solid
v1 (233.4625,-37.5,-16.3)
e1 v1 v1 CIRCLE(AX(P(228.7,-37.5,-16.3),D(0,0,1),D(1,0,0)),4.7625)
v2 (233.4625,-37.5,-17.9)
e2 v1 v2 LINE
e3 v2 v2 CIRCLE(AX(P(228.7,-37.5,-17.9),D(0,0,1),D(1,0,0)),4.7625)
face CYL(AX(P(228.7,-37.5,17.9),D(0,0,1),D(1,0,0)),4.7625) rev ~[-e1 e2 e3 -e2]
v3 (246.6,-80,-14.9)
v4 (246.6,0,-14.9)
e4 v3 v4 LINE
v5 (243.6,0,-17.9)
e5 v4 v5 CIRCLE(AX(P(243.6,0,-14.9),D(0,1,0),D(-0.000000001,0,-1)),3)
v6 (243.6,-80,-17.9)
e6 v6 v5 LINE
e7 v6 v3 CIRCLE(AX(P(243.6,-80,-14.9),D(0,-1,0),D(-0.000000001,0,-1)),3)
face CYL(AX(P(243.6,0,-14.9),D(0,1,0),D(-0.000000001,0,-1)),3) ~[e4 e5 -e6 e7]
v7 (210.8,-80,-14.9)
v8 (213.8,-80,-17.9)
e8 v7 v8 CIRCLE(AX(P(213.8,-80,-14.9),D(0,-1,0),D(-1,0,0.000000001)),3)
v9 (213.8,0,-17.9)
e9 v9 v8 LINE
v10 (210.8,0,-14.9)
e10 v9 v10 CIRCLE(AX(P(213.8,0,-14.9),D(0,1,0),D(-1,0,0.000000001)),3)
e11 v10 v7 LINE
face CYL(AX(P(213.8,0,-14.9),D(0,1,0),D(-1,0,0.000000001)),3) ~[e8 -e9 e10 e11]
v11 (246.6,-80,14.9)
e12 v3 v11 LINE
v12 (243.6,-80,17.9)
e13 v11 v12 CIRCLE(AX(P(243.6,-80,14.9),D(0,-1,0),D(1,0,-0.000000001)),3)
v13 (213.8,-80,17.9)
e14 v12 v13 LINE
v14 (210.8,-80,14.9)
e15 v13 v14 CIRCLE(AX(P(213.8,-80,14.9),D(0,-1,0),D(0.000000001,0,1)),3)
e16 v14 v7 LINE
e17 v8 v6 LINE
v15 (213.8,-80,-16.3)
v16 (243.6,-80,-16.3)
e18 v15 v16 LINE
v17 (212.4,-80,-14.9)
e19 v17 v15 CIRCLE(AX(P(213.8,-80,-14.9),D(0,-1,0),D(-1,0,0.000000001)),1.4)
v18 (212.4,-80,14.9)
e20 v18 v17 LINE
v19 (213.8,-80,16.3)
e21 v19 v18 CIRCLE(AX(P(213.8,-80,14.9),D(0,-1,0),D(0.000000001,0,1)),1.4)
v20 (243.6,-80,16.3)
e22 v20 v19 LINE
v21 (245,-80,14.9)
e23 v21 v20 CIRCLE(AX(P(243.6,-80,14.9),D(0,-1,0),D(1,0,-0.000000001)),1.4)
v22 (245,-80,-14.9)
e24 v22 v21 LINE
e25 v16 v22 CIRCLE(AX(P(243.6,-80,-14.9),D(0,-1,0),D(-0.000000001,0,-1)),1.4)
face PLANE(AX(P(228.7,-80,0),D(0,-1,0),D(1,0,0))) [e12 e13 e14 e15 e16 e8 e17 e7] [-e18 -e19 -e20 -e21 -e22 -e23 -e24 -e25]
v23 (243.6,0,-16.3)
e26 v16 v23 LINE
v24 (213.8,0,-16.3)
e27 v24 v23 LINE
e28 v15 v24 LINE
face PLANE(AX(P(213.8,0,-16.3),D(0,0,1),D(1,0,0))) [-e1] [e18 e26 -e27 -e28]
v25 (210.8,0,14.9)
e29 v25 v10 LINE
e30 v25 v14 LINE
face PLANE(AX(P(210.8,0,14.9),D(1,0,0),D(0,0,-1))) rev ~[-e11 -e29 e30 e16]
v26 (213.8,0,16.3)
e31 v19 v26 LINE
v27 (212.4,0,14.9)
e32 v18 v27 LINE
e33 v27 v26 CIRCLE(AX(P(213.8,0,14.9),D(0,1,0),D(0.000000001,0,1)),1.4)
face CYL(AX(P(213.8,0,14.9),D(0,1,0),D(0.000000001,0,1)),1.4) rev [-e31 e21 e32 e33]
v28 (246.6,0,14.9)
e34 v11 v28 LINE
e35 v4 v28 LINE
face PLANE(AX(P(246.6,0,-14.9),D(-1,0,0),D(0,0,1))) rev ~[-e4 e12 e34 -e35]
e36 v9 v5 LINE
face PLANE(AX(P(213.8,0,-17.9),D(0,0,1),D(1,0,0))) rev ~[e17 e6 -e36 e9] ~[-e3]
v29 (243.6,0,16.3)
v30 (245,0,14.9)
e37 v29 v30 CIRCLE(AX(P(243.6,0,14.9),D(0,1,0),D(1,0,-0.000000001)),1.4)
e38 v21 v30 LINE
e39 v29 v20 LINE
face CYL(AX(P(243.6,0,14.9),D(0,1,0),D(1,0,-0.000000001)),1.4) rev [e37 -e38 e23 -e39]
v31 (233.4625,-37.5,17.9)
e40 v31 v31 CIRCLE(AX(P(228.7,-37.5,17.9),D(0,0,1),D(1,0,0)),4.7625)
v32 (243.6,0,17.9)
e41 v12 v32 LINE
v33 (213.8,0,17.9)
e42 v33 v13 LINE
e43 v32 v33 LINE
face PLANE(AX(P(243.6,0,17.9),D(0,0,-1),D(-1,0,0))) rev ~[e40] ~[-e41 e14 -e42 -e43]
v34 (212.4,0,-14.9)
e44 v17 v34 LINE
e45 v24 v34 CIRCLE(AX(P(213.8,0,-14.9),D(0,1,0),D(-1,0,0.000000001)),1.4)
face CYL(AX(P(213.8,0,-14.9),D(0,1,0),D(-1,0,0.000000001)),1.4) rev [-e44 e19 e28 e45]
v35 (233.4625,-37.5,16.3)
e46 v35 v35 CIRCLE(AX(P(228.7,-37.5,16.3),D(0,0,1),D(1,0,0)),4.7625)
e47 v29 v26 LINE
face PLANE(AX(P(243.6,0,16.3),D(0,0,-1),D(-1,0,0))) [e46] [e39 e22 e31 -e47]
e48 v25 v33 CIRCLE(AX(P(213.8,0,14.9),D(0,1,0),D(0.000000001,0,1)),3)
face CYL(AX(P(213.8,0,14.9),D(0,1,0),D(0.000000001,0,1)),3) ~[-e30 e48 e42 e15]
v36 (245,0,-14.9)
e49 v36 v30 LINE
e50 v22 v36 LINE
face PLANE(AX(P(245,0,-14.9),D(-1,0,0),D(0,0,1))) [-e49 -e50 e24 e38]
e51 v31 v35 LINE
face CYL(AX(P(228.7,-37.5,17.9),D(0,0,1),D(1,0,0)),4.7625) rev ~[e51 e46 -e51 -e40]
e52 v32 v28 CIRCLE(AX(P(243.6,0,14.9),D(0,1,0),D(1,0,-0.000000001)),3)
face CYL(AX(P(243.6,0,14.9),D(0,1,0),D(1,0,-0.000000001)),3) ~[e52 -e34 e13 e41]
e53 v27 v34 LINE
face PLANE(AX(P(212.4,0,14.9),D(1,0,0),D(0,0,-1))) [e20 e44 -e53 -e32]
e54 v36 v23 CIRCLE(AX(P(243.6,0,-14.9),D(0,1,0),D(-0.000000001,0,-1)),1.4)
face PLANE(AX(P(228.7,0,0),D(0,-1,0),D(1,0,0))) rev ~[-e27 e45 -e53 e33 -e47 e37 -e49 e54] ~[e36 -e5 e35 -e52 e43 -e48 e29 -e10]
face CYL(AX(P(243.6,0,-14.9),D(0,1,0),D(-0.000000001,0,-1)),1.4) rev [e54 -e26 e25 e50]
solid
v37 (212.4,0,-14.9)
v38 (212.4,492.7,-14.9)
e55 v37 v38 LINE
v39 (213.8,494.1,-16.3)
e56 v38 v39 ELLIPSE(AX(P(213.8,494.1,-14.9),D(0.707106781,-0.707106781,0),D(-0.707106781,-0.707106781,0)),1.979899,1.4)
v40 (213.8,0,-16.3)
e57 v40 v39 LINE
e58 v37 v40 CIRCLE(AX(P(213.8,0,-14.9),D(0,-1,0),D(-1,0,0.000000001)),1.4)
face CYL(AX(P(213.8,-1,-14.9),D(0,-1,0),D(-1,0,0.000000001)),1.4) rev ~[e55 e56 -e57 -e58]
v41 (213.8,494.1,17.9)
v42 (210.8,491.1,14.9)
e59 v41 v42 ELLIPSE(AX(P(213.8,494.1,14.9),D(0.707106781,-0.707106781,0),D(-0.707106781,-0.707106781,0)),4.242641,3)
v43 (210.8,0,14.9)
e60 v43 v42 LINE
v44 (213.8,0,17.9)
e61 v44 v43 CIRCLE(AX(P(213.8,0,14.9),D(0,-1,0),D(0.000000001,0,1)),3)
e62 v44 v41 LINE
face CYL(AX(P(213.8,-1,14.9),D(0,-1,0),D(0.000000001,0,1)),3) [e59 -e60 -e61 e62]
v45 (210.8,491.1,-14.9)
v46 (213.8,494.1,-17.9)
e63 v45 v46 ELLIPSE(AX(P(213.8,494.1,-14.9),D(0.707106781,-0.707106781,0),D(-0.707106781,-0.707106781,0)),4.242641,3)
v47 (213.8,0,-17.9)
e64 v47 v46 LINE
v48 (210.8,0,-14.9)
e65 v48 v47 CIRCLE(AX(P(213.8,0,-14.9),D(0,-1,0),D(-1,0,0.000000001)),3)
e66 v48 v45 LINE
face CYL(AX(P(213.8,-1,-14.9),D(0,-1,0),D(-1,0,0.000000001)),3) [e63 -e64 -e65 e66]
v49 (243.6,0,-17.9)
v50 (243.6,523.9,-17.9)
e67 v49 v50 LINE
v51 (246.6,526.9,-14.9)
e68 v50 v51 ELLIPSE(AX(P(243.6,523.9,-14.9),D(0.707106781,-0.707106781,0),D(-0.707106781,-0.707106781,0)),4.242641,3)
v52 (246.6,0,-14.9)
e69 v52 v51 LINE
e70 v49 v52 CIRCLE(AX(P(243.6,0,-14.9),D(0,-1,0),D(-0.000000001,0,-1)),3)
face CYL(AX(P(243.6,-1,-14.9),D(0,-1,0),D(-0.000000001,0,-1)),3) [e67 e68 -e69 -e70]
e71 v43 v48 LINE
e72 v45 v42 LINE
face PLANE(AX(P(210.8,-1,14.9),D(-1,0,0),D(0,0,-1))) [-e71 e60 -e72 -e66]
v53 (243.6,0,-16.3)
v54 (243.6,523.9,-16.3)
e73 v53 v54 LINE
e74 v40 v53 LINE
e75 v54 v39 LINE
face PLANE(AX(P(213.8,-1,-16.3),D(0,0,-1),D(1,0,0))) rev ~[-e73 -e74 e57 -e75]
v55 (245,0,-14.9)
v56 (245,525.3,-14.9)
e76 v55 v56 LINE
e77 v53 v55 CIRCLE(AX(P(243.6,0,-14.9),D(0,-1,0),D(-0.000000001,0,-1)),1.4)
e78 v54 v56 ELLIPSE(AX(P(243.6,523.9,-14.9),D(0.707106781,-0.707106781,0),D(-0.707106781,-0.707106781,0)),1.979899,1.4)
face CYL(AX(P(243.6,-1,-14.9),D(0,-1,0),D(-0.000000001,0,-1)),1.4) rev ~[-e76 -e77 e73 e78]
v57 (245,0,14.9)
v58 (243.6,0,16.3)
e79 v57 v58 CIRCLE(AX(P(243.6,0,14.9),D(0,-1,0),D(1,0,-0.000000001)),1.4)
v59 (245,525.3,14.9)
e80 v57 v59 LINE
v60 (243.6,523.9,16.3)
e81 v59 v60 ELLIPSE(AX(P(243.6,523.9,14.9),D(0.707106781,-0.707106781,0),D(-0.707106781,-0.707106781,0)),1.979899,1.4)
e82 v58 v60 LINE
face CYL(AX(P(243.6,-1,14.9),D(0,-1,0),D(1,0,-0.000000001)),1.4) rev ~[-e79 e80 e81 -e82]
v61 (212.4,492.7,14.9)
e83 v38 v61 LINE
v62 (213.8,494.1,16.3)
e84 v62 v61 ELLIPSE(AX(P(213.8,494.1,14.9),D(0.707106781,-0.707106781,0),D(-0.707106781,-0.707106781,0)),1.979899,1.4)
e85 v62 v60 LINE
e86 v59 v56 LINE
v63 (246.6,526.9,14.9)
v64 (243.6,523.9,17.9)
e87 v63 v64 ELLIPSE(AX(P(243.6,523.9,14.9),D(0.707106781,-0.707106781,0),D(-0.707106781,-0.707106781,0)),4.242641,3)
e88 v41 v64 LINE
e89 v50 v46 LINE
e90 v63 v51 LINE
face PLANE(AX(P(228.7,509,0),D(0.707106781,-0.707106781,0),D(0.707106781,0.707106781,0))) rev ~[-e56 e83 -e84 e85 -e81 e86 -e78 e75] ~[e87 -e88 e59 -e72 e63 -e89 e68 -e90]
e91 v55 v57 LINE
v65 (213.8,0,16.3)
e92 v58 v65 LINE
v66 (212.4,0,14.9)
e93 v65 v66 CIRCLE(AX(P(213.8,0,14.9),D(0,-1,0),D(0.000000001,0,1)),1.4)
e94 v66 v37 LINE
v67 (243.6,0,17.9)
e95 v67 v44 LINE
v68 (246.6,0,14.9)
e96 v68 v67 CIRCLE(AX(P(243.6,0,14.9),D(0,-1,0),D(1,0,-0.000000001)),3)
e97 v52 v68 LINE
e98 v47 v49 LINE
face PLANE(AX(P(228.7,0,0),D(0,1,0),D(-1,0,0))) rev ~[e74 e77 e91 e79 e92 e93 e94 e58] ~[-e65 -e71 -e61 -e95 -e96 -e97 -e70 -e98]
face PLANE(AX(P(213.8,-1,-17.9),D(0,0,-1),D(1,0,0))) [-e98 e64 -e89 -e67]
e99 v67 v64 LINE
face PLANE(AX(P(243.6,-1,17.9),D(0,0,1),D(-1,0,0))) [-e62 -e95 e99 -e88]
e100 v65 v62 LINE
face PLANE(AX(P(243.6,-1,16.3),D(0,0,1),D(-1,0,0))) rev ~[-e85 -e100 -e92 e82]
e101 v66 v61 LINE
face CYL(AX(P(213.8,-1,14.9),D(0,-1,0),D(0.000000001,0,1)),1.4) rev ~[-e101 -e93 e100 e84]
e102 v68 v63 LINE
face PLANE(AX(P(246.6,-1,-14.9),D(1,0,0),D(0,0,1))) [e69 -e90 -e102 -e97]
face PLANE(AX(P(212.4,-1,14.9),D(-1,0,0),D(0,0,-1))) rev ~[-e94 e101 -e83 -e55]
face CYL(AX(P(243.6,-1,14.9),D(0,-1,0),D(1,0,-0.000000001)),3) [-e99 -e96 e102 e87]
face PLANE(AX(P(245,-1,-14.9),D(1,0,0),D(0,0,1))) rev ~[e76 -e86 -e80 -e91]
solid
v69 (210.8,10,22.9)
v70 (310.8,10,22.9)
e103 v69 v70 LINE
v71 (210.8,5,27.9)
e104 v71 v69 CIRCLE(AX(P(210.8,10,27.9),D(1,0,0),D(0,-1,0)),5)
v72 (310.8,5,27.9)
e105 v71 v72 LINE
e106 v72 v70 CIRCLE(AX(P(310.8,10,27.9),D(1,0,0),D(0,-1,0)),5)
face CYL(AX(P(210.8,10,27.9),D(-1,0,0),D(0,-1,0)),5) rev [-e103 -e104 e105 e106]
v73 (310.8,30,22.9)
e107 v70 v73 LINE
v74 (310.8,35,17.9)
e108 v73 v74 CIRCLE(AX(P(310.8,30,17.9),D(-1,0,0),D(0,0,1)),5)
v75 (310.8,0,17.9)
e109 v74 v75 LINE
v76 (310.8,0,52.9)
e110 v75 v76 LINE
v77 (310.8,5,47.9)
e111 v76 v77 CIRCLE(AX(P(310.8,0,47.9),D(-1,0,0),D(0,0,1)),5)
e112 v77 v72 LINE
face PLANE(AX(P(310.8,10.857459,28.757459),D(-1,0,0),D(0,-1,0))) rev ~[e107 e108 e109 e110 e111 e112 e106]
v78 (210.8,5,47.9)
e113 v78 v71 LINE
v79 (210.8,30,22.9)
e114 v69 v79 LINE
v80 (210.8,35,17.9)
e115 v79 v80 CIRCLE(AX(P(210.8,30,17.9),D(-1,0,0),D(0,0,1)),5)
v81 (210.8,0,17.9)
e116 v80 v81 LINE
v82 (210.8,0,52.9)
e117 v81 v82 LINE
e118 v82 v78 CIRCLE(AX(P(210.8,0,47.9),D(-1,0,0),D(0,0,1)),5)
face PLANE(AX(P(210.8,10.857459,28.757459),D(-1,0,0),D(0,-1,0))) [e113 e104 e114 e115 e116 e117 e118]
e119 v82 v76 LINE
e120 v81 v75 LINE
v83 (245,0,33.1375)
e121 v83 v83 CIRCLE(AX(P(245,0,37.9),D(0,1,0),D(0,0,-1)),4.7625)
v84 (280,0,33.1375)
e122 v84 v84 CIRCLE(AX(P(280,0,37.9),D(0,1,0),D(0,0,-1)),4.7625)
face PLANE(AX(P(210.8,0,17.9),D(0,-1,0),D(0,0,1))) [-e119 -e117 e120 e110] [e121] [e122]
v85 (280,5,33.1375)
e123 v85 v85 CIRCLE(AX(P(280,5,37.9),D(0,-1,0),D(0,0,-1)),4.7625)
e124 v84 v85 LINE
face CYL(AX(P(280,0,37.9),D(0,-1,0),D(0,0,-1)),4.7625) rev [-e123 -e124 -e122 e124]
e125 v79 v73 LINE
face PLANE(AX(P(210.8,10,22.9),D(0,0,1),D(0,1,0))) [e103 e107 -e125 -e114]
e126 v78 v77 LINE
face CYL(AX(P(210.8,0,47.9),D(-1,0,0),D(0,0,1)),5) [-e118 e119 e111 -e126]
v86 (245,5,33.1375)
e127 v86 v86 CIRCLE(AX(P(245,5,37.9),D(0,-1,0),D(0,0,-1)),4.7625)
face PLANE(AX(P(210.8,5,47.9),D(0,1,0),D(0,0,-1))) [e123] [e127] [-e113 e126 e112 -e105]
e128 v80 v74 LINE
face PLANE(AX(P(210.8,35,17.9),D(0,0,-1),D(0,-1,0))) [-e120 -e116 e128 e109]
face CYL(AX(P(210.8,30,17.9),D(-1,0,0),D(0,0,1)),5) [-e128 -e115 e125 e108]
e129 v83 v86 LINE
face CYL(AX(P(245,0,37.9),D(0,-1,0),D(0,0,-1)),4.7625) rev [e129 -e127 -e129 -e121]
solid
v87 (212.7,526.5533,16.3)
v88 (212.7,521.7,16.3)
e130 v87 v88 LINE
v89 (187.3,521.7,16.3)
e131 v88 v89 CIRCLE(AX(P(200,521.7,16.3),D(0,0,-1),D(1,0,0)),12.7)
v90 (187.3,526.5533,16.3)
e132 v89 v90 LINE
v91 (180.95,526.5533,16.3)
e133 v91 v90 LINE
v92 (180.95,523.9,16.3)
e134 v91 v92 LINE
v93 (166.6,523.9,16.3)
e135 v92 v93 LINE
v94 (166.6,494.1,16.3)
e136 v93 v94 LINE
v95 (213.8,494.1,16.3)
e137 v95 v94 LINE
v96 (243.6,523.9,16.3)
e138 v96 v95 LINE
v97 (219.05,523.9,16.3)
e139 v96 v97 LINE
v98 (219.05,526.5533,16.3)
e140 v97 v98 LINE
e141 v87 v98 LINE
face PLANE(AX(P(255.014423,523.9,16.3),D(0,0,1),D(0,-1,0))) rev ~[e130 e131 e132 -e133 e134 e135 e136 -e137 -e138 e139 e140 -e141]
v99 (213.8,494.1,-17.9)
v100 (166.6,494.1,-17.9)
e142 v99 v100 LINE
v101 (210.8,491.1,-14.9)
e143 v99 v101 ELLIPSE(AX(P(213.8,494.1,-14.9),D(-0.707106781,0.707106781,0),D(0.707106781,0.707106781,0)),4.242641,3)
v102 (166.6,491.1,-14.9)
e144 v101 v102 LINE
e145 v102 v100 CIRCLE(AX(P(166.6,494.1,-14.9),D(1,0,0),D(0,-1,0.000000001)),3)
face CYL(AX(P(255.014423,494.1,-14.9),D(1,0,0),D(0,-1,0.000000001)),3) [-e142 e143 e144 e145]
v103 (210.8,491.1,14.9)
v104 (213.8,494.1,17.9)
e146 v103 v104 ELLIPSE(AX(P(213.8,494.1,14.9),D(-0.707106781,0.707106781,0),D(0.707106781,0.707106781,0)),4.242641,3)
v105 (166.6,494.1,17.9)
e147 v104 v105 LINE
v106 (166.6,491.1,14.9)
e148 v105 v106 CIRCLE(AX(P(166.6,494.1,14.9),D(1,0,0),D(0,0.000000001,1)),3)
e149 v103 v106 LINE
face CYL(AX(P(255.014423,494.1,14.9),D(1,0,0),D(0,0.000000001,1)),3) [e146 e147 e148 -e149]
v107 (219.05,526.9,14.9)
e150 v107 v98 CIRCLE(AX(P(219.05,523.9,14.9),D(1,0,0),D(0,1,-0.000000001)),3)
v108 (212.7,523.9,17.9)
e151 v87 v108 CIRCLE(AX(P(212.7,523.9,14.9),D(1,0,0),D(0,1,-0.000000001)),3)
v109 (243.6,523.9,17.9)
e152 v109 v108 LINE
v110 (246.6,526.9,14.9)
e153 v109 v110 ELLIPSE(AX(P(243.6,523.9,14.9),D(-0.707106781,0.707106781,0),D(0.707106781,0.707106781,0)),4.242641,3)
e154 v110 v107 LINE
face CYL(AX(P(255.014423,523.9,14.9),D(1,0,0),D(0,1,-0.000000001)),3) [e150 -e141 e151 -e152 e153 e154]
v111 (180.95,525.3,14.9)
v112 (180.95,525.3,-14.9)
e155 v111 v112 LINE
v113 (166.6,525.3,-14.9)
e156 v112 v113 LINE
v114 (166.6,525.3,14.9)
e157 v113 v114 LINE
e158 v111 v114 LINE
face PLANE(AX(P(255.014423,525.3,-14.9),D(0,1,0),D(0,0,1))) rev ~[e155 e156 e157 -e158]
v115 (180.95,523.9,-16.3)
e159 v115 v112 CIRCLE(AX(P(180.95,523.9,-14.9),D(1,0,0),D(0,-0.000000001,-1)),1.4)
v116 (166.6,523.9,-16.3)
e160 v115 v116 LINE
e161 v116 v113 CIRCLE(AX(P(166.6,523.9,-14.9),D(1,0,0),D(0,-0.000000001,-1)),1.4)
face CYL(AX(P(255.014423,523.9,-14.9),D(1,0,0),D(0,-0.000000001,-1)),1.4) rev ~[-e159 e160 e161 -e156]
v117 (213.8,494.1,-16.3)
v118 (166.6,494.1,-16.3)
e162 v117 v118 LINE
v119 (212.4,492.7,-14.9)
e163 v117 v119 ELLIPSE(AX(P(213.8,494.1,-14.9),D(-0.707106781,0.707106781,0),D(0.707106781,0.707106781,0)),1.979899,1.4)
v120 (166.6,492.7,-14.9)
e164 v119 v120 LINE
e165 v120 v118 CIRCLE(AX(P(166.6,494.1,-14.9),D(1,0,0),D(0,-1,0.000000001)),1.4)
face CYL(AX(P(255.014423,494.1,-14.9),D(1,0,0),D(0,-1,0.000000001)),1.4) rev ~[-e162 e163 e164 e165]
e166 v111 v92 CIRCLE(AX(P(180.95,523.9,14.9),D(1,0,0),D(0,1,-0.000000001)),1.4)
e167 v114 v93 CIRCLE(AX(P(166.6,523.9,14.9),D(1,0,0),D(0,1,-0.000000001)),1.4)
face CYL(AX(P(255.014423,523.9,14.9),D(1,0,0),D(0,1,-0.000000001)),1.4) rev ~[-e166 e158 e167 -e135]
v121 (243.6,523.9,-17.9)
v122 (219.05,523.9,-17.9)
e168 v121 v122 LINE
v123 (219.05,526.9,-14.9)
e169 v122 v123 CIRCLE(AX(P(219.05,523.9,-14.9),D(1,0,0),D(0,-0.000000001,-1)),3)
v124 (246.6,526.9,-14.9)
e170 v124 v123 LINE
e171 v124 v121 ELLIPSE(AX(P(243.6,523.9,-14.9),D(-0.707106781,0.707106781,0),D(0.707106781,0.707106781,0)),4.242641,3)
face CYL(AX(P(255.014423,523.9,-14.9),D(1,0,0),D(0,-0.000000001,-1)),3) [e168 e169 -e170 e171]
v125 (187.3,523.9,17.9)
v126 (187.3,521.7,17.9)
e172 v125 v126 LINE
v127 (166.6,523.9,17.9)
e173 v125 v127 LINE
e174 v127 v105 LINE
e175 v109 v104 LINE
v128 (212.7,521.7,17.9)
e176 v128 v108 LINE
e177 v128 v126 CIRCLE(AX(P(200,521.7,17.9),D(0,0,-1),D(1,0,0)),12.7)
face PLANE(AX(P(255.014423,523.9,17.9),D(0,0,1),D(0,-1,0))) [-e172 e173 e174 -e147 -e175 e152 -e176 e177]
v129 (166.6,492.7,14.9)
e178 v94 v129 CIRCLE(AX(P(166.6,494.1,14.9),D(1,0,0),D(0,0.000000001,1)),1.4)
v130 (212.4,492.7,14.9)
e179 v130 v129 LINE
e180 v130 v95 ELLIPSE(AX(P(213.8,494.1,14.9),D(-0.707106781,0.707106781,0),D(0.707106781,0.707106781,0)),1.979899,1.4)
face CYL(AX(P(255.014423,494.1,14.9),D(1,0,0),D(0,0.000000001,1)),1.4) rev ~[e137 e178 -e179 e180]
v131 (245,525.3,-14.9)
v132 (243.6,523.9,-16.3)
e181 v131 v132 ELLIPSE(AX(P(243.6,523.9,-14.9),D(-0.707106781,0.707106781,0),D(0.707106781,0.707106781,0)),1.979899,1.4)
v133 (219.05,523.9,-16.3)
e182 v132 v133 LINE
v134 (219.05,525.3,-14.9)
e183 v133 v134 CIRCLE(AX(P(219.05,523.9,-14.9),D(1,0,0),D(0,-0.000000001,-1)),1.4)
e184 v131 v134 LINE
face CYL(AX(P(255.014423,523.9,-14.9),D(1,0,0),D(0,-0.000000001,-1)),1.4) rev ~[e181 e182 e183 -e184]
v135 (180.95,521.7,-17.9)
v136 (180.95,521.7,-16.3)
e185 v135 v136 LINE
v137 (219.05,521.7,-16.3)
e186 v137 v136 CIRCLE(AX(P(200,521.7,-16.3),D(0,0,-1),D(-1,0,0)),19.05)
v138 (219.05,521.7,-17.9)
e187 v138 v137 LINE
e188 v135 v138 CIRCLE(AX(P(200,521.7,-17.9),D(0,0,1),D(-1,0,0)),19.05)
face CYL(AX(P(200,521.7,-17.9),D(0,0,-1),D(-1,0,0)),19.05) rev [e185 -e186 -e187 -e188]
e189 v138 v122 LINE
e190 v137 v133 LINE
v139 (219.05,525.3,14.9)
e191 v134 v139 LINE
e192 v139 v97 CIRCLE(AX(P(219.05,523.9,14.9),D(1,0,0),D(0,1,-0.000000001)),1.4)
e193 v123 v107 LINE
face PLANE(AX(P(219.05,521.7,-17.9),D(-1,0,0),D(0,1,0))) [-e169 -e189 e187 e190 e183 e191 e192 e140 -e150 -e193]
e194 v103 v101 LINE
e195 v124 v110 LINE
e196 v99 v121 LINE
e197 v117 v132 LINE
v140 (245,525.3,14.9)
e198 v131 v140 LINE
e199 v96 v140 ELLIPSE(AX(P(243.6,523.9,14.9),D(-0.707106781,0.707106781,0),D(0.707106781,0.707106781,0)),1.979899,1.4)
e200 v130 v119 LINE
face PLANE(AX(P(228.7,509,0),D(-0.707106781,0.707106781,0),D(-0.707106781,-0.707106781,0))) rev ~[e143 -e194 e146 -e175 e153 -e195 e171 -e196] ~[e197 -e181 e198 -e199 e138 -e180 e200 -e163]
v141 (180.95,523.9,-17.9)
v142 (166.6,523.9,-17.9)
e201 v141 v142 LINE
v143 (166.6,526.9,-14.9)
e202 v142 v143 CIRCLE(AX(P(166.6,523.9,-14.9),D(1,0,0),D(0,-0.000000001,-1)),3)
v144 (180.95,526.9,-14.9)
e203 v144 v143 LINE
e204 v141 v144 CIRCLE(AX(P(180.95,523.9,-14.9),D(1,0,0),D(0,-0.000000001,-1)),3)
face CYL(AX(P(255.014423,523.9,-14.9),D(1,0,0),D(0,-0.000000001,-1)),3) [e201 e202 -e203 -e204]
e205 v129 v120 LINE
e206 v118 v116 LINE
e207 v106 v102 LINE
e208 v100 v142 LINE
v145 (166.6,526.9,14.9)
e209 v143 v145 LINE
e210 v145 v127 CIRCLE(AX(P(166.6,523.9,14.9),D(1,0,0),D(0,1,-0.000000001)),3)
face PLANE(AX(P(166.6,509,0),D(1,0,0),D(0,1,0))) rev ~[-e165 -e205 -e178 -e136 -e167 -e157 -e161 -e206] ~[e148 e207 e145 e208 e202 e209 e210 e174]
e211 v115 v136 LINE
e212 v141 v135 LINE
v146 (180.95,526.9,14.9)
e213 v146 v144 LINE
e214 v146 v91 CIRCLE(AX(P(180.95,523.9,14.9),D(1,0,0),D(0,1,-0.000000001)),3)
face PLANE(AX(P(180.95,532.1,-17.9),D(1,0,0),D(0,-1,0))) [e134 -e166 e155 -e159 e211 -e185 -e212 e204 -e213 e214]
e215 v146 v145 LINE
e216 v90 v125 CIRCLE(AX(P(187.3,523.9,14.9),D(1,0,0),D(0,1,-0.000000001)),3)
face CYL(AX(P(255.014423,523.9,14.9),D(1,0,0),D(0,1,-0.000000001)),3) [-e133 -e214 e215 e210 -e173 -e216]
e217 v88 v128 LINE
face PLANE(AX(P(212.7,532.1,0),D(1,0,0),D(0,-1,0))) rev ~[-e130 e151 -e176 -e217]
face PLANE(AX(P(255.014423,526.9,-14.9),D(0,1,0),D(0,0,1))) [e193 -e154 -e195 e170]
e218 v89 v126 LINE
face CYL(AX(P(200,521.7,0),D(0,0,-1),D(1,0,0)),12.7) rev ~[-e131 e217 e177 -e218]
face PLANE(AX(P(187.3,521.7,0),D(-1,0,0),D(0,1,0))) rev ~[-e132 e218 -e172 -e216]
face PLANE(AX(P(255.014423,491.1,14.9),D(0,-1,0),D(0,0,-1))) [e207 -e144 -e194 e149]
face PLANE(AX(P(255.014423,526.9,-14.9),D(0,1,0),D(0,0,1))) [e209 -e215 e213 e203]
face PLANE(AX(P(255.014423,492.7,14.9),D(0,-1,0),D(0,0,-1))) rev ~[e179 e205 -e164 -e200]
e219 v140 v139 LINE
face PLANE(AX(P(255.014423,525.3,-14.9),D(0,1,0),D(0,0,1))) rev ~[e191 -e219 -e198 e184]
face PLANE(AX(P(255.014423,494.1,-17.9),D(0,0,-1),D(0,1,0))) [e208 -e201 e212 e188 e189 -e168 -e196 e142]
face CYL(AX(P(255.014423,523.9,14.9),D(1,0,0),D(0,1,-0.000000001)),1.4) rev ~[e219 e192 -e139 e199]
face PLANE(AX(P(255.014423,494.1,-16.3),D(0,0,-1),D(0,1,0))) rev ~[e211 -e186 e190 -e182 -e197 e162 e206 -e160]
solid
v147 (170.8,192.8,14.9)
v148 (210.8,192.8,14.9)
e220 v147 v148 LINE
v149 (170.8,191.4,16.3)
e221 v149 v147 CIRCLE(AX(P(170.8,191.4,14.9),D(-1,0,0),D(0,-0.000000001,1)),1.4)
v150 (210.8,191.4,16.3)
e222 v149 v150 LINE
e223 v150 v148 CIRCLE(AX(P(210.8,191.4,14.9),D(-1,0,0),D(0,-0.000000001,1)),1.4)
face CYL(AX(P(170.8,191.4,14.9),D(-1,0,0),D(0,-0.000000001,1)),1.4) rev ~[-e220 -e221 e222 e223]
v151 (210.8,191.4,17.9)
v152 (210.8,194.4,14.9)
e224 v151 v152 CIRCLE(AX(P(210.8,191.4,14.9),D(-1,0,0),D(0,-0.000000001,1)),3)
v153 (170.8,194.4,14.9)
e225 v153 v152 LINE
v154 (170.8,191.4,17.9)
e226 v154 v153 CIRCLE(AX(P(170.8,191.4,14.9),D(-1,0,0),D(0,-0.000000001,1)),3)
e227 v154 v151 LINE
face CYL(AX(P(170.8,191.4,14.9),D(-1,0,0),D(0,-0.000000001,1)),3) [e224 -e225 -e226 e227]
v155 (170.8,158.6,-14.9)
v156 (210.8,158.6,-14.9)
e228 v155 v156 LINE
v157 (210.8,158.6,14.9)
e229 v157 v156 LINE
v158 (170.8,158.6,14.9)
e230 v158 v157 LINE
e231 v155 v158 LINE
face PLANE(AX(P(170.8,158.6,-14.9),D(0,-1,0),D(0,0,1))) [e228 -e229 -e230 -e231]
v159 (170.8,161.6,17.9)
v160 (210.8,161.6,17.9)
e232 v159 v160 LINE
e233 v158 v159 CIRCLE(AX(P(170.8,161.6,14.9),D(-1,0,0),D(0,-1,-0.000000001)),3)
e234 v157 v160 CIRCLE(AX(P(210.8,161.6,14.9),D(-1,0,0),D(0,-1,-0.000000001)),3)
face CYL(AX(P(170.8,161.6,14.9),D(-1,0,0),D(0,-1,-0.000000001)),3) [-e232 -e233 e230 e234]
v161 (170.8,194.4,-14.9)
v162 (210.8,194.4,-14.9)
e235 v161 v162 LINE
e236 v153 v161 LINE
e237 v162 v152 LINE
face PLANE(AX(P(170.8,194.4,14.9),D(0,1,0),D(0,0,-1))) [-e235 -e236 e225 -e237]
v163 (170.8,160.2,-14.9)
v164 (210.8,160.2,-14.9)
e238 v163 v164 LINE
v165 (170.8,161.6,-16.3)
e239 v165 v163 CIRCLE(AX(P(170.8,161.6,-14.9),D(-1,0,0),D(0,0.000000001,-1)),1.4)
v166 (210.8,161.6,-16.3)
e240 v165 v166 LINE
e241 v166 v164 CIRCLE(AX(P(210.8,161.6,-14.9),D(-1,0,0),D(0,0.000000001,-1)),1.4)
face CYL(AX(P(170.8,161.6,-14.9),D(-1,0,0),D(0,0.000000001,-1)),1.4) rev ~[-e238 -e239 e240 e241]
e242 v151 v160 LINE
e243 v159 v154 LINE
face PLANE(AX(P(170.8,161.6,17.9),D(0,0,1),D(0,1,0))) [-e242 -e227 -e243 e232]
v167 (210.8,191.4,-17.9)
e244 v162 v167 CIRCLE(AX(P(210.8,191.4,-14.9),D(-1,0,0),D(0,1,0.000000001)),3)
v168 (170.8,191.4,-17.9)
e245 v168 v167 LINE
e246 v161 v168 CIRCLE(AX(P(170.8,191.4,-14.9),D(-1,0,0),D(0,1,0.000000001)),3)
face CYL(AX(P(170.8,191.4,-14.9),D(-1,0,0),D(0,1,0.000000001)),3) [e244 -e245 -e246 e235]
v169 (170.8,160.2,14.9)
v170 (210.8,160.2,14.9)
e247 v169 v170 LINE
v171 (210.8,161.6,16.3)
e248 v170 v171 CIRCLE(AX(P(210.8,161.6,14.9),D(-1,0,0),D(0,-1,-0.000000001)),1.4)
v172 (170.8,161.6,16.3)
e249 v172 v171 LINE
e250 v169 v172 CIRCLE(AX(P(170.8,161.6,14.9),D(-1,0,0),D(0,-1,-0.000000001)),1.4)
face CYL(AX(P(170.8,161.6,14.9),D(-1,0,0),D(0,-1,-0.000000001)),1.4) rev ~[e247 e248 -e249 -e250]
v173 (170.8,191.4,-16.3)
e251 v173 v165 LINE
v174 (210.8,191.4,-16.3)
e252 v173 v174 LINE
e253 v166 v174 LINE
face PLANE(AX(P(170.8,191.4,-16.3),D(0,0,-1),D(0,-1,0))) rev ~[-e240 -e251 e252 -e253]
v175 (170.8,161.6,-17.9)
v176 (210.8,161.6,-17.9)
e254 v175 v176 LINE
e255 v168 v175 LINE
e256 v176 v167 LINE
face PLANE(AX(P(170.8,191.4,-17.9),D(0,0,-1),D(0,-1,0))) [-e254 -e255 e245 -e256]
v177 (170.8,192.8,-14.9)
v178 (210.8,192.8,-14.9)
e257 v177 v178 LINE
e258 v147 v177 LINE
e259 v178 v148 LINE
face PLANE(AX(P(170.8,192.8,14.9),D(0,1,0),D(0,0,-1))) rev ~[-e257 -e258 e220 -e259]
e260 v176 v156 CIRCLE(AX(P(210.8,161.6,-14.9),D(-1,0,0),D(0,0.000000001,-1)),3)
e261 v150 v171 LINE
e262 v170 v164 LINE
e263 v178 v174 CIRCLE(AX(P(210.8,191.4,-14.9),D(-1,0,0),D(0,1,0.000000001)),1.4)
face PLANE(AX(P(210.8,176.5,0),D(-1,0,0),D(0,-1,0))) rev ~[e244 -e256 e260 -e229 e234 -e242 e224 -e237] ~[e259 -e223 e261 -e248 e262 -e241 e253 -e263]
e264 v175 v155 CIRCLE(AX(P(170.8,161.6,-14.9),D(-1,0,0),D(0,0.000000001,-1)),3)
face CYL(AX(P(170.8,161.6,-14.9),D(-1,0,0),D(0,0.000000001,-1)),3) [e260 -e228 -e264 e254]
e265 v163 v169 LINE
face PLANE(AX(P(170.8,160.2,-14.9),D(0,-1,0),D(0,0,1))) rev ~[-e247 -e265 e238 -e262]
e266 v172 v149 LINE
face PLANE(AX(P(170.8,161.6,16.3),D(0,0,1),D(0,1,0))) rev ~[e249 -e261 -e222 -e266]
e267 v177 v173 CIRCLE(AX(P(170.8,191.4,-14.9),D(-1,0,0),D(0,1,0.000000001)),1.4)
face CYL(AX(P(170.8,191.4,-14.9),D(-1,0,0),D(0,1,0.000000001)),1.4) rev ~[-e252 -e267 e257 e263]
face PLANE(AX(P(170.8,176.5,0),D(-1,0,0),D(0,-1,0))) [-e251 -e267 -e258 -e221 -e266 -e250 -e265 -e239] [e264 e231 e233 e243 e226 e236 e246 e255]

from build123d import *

# Parameters (mm, degrees)
STRUCTURAL_MEMBERMAIN_DEPTH        = 1
STRUCTURAL_MEMBERMAIN_DEPTH_BACK   = 80
STRUCTURAL_MEMBERMAIN_2_DEPTH      = 536.314422766
STRUCTURAL_MEMBERMAIN_3_DEPTH      = 88.414422766
STRUCTURAL_MEMBERMAIN_4_DEPTH      = 58.9
CUT_EXTRUDETOPRAILGUIDE_DEPTH      = 583.027129952
CUT_EXTRUDETOPRAILGUIDE_DEPTH_BACK = 583.027129952
STRUCTURAL_MEMBERANGLE_DEPTH       = 100
SKETCH15_R                         = 4.7625
CUT_EXTRUDEMOUNTINGHOLES_DEPTH     = 615.018452491
CUT_EXTRUDEENLARGERAILGUIDE_START  = -17.9
CUT_EXTRUDEENLARGERAILGUIDE_DEPTH  = 34.2
SKETCH17_R                         = 4.7625
CUT_EXTRUDE1_DEPTH                 = 613.782090143


with BuildPart() as part:
    # Sketch11 → Structural MemberMain (new, two sides)
    with BuildSketch(Plane(origin=(228.7, 0, 0), x_dir=(-1, 0, 0), z_dir=(0, 1, 0))) as structural_membermain_sk:
        with BuildLine():
            Line((-14.9, 17.9), (14.9, 17.9))
            ThreePointArc((14.9, 17.9), (17.021320344, 17.021320344), (17.9, 14.9))
            Line((17.9, 14.9), (17.9, -14.9))
            ThreePointArc((17.9, -14.9), (17.021320344, -17.021320344), (14.9, -17.9))
            Line((14.9, -17.9), (-14.9, -17.9))
            ThreePointArc((-14.9, -17.9), (-17.021320344, -17.021320344), (-17.9, -14.9))
            Line((-17.9, -14.9), (-17.9, 14.9))
            ThreePointArc((-17.9, 14.9), (-17.021320344, 17.021320344), (-14.9, 17.9))
        make_face()
        with BuildLine():
            Line((-14.9, 16.3), (14.9, 16.3))
            ThreePointArc((14.9, 16.3), (15.889949494, 15.889949494), (16.3, 14.9))
            Line((16.3, 14.9), (16.3, -14.9))
            ThreePointArc((16.3, -14.9), (15.889949494, -15.889949494), (14.9, -16.3))
            Line((14.9, -16.3), (-14.9, -16.3))
            ThreePointArc((-14.9, -16.3), (-15.889949494, -15.889949494), (-16.3, -14.9))
            Line((-16.3, -14.9), (-16.3, 14.9))
            ThreePointArc((-16.3, 14.9), (-15.889949494, 15.889949494), (-14.9, 16.3))
        make_face(mode=Mode.SUBTRACT)
    extrude(amount=STRUCTURAL_MEMBERMAIN_DEPTH)
    extrude(structural_membermain_sk.sketch, amount=-STRUCTURAL_MEMBERMAIN_DEPTH_BACK)

    # Structural MemberMain mitre 1
    split(bisect_by=Plane(origin=(228.7, 0, 0), x_dir=(1, 0, 0), z_dir=(0, -1, 0)), keep=Keep.TOP)

    # Sketch17 → Cut-Extrude1 (cut, through all)
    with BuildSketch(Plane.XY.offset(17.9)):
        with Locations((228.7, -37.5)):
            Circle(SKETCH17_R)
    extrude(amount=-CUT_EXTRUDE1_DEPTH, mode=Mode.SUBTRACT)


with BuildPart() as body_2:
    # Sketch11 on segment 2 (carried to segment 2) → Structural MemberMain 2 (new body)
    with BuildSketch(Plane(origin=(228.7, -1, 0), x_dir=(-1, 0, 0), z_dir=(0, 1, 0))):
        with BuildLine():
            Line((-14.9, 17.9), (14.9, 17.9))
            ThreePointArc((14.9, 17.9), (17.021320344, 17.021320344), (17.9, 14.9))
            Line((17.9, 14.9), (17.9, -14.9))
            ThreePointArc((17.9, -14.9), (17.021320344, -17.021320344), (14.9, -17.9))
            Line((14.9, -17.9), (-14.9, -17.9))
            ThreePointArc((-14.9, -17.9), (-17.021320344, -17.021320344), (-17.9, -14.9))
            Line((-17.9, -14.9), (-17.9, 14.9))
            ThreePointArc((-17.9, 14.9), (-17.021320344, 17.021320344), (-14.9, 17.9))
        make_face()
        with BuildLine():
            Line((-14.9, 16.3), (14.9, 16.3))
            ThreePointArc((14.9, 16.3), (15.889949494, 15.889949494), (16.3, 14.9))
            Line((16.3, 14.9), (16.3, -14.9))
            ThreePointArc((16.3, -14.9), (15.889949494, -15.889949494), (14.9, -16.3))
            Line((14.9, -16.3), (-14.9, -16.3))
            ThreePointArc((-14.9, -16.3), (-15.889949494, -15.889949494), (-16.3, -14.9))
            Line((-16.3, -14.9), (-16.3, 14.9))
            ThreePointArc((-16.3, 14.9), (-15.889949494, 15.889949494), (-14.9, 16.3))
        make_face(mode=Mode.SUBTRACT)
    extrude(amount=STRUCTURAL_MEMBERMAIN_2_DEPTH)

    # Structural MemberMain 2 mitre 1
    split(bisect_by=Plane(origin=(228.7, 0, 0), x_dir=(-1, 0, 0), z_dir=(0, 1, 0)), keep=Keep.TOP)

    # Structural MemberMain 2 mitre 2
    split(bisect_by=Plane(origin=(228.7, 509, 0), x_dir=(0.707106781, 0.707106781, 0), z_dir=(0.707106781, -0.707106781, 0)), keep=Keep.TOP)


with BuildPart() as body_3:
    # Sketch11 on segment 3 (carried to segment 3) → Structural MemberMain 3 (new body)
    with BuildSketch(Plane(origin=(255.014422766, 509, 0), x_dir=(0, -1, 0), z_dir=(-1, 0, 0))):
        with BuildLine():
            Line((-14.9, 17.9), (14.9, 17.9))
            ThreePointArc((14.9, 17.9), (17.021320344, 17.021320344), (17.9, 14.9))
            Line((17.9, 14.9), (17.9, -14.9))
            ThreePointArc((17.9, -14.9), (17.021320344, -17.021320344), (14.9, -17.9))
            Line((14.9, -17.9), (-14.9, -17.9))
            ThreePointArc((-14.9, -17.9), (-17.021320344, -17.021320344), (-17.9, -14.9))
            Line((-17.9, -14.9), (-17.9, 14.9))
            ThreePointArc((-17.9, 14.9), (-17.021320344, 17.021320344), (-14.9, 17.9))
        make_face()
        with BuildLine():
            Line((-14.9, 16.3), (14.9, 16.3))
            ThreePointArc((14.9, 16.3), (15.889949494, 15.889949494), (16.3, 14.9))
            Line((16.3, 14.9), (16.3, -14.9))
            ThreePointArc((16.3, -14.9), (15.889949494, -15.889949494), (14.9, -16.3))
            Line((14.9, -16.3), (-14.9, -16.3))
            ThreePointArc((-14.9, -16.3), (-15.889949494, -15.889949494), (-16.3, -14.9))
            Line((-16.3, -14.9), (-16.3, 14.9))
            ThreePointArc((-16.3, 14.9), (-15.889949494, 15.889949494), (-14.9, 16.3))
        make_face(mode=Mode.SUBTRACT)
    extrude(amount=STRUCTURAL_MEMBERMAIN_3_DEPTH)

    # Structural MemberMain 3 mitre 1
    split(bisect_by=Plane(origin=(228.7, 509, 0), x_dir=(-0.707106781, -0.707106781, 0), z_dir=(-0.707106781, 0.707106781, 0)), keep=Keep.TOP)

    # Sketch12 → Cut-ExtrudeTopRailGuide (cut, two sides)
    with BuildSketch(Plane.XY) as cut_extrudetoprailguide_sk:
        with BuildLine():
            Line((187.3, 521.7), (187.3, 532.1))
            ThreePointArc((187.3, 532.1), (200, 544.8), (212.7, 532.1))
            Line((212.7, 532.1), (212.7, 521.7))
            ThreePointArc((212.7, 521.7), (200, 509), (187.3, 521.7))
        make_face()
    extrude(amount=CUT_EXTRUDETOPRAILGUIDE_DEPTH, mode=Mode.SUBTRACT)
    extrude(cut_extrudetoprailguide_sk.sketch, amount=-CUT_EXTRUDETOPRAILGUIDE_DEPTH_BACK, mode=Mode.SUBTRACT)

    # Sketch16 → Cut-ExtrudeEnlargeRailGuide (cut)
    with BuildSketch(Plane.XY.offset(CUT_EXTRUDEENLARGERAILGUIDE_START)):
        with BuildLine():
            Line((219.05, 521.7), (219.05, 532.1))
            ThreePointArc((219.05, 532.1), (200, 551.15), (180.95, 532.1))
            Line((180.95, 532.1), (180.95, 521.7))
            ThreePointArc((180.95, 521.7), (200, 502.65), (219.05, 521.7))
        make_face()
    extrude(amount=CUT_EXTRUDEENLARGERAILGUIDE_DEPTH, mode=Mode.SUBTRACT)


with BuildPart() as body_4:
    # Sketch11 on segment 4 (carried to segment 4) → Structural MemberMain 4 (new body)
    with BuildSketch(Plane(origin=(170.8, 176.5, 0), x_dir=(0, 1, 0), z_dir=(1, 0, 0))):
        with BuildLine():
            Line((-14.9, 17.9), (14.9, 17.9))
            ThreePointArc((14.9, 17.9), (17.021320344, 17.021320344), (17.9, 14.9))
            Line((17.9, 14.9), (17.9, -14.9))
            ThreePointArc((17.9, -14.9), (17.021320344, -17.021320344), (14.9, -17.9))
            Line((14.9, -17.9), (-14.9, -17.9))
            ThreePointArc((-14.9, -17.9), (-17.021320344, -17.021320344), (-17.9, -14.9))
            Line((-17.9, -14.9), (-17.9, 14.9))
            ThreePointArc((-17.9, 14.9), (-17.021320344, 17.021320344), (-14.9, 17.9))
        make_face()
        with BuildLine():
            Line((-14.9, 16.3), (14.9, 16.3))
            ThreePointArc((14.9, 16.3), (15.889949494, 15.889949494), (16.3, 14.9))
            Line((16.3, 14.9), (16.3, -14.9))
            ThreePointArc((16.3, -14.9), (15.889949494, -15.889949494), (14.9, -16.3))
            Line((14.9, -16.3), (-14.9, -16.3))
            ThreePointArc((-14.9, -16.3), (-15.889949494, -15.889949494), (-16.3, -14.9))
            Line((-16.3, -14.9), (-16.3, 14.9))
            ThreePointArc((-16.3, 14.9), (-15.889949494, 15.889949494), (-14.9, 16.3))
        make_face(mode=Mode.SUBTRACT)
    extrude(amount=STRUCTURAL_MEMBERMAIN_4_DEPTH)

    # Structural MemberMain 4 mitre 1
    split(bisect_by=Plane(origin=(210.8, 176.5, 0), x_dir=(0, -1, 0), z_dir=(-1, 0, 0)), keep=Keep.TOP)


with BuildPart() as body_5:
    # Sketch14 → Structural MemberAngle (new body)
    with BuildSketch(Plane(origin=(210.8, 0, 17.9), x_dir=(0, 1, 0), z_dir=(1, 0, 0))):
        with BuildLine():
            Line((0, 0), (0, 35))
            ThreePointArc((0, 35), (3.535533906, 33.535533906), (5, 30))
            Line((5, 30), (5, 10))
            ThreePointArc((5, 10), (6.464466094, 6.464466094), (10, 5))
            Line((10, 5), (30, 5))
            ThreePointArc((30, 5), (33.535533906, 3.535533906), (35, 0))
            Line((35, 0), (0, 0))
        make_face()
    extrude(amount=STRUCTURAL_MEMBERANGLE_DEPTH)

    # Sketch15 → Cut-ExtrudeMountingHoles (cut, through all)
    with BuildSketch(Plane(origin=(0, 0, 0), x_dir=(1, 0, 0), z_dir=(0, 1, 0))):
        with Locations(Location((245, -37.9, 0), (0, 0, 90))):
            Circle(SKETCH15_R)
        with Locations(Location((280, -37.9, 0), (0, 0, 90))):
            Circle(SKETCH15_R)
    extrude(amount=CUT_EXTRUDEMOUNTINGHOLES_DEPTH, mode=Mode.SUBTRACT)


solid = Compound([part.part, body_2.part, body_3.part, body_4.part, body_5.part])
